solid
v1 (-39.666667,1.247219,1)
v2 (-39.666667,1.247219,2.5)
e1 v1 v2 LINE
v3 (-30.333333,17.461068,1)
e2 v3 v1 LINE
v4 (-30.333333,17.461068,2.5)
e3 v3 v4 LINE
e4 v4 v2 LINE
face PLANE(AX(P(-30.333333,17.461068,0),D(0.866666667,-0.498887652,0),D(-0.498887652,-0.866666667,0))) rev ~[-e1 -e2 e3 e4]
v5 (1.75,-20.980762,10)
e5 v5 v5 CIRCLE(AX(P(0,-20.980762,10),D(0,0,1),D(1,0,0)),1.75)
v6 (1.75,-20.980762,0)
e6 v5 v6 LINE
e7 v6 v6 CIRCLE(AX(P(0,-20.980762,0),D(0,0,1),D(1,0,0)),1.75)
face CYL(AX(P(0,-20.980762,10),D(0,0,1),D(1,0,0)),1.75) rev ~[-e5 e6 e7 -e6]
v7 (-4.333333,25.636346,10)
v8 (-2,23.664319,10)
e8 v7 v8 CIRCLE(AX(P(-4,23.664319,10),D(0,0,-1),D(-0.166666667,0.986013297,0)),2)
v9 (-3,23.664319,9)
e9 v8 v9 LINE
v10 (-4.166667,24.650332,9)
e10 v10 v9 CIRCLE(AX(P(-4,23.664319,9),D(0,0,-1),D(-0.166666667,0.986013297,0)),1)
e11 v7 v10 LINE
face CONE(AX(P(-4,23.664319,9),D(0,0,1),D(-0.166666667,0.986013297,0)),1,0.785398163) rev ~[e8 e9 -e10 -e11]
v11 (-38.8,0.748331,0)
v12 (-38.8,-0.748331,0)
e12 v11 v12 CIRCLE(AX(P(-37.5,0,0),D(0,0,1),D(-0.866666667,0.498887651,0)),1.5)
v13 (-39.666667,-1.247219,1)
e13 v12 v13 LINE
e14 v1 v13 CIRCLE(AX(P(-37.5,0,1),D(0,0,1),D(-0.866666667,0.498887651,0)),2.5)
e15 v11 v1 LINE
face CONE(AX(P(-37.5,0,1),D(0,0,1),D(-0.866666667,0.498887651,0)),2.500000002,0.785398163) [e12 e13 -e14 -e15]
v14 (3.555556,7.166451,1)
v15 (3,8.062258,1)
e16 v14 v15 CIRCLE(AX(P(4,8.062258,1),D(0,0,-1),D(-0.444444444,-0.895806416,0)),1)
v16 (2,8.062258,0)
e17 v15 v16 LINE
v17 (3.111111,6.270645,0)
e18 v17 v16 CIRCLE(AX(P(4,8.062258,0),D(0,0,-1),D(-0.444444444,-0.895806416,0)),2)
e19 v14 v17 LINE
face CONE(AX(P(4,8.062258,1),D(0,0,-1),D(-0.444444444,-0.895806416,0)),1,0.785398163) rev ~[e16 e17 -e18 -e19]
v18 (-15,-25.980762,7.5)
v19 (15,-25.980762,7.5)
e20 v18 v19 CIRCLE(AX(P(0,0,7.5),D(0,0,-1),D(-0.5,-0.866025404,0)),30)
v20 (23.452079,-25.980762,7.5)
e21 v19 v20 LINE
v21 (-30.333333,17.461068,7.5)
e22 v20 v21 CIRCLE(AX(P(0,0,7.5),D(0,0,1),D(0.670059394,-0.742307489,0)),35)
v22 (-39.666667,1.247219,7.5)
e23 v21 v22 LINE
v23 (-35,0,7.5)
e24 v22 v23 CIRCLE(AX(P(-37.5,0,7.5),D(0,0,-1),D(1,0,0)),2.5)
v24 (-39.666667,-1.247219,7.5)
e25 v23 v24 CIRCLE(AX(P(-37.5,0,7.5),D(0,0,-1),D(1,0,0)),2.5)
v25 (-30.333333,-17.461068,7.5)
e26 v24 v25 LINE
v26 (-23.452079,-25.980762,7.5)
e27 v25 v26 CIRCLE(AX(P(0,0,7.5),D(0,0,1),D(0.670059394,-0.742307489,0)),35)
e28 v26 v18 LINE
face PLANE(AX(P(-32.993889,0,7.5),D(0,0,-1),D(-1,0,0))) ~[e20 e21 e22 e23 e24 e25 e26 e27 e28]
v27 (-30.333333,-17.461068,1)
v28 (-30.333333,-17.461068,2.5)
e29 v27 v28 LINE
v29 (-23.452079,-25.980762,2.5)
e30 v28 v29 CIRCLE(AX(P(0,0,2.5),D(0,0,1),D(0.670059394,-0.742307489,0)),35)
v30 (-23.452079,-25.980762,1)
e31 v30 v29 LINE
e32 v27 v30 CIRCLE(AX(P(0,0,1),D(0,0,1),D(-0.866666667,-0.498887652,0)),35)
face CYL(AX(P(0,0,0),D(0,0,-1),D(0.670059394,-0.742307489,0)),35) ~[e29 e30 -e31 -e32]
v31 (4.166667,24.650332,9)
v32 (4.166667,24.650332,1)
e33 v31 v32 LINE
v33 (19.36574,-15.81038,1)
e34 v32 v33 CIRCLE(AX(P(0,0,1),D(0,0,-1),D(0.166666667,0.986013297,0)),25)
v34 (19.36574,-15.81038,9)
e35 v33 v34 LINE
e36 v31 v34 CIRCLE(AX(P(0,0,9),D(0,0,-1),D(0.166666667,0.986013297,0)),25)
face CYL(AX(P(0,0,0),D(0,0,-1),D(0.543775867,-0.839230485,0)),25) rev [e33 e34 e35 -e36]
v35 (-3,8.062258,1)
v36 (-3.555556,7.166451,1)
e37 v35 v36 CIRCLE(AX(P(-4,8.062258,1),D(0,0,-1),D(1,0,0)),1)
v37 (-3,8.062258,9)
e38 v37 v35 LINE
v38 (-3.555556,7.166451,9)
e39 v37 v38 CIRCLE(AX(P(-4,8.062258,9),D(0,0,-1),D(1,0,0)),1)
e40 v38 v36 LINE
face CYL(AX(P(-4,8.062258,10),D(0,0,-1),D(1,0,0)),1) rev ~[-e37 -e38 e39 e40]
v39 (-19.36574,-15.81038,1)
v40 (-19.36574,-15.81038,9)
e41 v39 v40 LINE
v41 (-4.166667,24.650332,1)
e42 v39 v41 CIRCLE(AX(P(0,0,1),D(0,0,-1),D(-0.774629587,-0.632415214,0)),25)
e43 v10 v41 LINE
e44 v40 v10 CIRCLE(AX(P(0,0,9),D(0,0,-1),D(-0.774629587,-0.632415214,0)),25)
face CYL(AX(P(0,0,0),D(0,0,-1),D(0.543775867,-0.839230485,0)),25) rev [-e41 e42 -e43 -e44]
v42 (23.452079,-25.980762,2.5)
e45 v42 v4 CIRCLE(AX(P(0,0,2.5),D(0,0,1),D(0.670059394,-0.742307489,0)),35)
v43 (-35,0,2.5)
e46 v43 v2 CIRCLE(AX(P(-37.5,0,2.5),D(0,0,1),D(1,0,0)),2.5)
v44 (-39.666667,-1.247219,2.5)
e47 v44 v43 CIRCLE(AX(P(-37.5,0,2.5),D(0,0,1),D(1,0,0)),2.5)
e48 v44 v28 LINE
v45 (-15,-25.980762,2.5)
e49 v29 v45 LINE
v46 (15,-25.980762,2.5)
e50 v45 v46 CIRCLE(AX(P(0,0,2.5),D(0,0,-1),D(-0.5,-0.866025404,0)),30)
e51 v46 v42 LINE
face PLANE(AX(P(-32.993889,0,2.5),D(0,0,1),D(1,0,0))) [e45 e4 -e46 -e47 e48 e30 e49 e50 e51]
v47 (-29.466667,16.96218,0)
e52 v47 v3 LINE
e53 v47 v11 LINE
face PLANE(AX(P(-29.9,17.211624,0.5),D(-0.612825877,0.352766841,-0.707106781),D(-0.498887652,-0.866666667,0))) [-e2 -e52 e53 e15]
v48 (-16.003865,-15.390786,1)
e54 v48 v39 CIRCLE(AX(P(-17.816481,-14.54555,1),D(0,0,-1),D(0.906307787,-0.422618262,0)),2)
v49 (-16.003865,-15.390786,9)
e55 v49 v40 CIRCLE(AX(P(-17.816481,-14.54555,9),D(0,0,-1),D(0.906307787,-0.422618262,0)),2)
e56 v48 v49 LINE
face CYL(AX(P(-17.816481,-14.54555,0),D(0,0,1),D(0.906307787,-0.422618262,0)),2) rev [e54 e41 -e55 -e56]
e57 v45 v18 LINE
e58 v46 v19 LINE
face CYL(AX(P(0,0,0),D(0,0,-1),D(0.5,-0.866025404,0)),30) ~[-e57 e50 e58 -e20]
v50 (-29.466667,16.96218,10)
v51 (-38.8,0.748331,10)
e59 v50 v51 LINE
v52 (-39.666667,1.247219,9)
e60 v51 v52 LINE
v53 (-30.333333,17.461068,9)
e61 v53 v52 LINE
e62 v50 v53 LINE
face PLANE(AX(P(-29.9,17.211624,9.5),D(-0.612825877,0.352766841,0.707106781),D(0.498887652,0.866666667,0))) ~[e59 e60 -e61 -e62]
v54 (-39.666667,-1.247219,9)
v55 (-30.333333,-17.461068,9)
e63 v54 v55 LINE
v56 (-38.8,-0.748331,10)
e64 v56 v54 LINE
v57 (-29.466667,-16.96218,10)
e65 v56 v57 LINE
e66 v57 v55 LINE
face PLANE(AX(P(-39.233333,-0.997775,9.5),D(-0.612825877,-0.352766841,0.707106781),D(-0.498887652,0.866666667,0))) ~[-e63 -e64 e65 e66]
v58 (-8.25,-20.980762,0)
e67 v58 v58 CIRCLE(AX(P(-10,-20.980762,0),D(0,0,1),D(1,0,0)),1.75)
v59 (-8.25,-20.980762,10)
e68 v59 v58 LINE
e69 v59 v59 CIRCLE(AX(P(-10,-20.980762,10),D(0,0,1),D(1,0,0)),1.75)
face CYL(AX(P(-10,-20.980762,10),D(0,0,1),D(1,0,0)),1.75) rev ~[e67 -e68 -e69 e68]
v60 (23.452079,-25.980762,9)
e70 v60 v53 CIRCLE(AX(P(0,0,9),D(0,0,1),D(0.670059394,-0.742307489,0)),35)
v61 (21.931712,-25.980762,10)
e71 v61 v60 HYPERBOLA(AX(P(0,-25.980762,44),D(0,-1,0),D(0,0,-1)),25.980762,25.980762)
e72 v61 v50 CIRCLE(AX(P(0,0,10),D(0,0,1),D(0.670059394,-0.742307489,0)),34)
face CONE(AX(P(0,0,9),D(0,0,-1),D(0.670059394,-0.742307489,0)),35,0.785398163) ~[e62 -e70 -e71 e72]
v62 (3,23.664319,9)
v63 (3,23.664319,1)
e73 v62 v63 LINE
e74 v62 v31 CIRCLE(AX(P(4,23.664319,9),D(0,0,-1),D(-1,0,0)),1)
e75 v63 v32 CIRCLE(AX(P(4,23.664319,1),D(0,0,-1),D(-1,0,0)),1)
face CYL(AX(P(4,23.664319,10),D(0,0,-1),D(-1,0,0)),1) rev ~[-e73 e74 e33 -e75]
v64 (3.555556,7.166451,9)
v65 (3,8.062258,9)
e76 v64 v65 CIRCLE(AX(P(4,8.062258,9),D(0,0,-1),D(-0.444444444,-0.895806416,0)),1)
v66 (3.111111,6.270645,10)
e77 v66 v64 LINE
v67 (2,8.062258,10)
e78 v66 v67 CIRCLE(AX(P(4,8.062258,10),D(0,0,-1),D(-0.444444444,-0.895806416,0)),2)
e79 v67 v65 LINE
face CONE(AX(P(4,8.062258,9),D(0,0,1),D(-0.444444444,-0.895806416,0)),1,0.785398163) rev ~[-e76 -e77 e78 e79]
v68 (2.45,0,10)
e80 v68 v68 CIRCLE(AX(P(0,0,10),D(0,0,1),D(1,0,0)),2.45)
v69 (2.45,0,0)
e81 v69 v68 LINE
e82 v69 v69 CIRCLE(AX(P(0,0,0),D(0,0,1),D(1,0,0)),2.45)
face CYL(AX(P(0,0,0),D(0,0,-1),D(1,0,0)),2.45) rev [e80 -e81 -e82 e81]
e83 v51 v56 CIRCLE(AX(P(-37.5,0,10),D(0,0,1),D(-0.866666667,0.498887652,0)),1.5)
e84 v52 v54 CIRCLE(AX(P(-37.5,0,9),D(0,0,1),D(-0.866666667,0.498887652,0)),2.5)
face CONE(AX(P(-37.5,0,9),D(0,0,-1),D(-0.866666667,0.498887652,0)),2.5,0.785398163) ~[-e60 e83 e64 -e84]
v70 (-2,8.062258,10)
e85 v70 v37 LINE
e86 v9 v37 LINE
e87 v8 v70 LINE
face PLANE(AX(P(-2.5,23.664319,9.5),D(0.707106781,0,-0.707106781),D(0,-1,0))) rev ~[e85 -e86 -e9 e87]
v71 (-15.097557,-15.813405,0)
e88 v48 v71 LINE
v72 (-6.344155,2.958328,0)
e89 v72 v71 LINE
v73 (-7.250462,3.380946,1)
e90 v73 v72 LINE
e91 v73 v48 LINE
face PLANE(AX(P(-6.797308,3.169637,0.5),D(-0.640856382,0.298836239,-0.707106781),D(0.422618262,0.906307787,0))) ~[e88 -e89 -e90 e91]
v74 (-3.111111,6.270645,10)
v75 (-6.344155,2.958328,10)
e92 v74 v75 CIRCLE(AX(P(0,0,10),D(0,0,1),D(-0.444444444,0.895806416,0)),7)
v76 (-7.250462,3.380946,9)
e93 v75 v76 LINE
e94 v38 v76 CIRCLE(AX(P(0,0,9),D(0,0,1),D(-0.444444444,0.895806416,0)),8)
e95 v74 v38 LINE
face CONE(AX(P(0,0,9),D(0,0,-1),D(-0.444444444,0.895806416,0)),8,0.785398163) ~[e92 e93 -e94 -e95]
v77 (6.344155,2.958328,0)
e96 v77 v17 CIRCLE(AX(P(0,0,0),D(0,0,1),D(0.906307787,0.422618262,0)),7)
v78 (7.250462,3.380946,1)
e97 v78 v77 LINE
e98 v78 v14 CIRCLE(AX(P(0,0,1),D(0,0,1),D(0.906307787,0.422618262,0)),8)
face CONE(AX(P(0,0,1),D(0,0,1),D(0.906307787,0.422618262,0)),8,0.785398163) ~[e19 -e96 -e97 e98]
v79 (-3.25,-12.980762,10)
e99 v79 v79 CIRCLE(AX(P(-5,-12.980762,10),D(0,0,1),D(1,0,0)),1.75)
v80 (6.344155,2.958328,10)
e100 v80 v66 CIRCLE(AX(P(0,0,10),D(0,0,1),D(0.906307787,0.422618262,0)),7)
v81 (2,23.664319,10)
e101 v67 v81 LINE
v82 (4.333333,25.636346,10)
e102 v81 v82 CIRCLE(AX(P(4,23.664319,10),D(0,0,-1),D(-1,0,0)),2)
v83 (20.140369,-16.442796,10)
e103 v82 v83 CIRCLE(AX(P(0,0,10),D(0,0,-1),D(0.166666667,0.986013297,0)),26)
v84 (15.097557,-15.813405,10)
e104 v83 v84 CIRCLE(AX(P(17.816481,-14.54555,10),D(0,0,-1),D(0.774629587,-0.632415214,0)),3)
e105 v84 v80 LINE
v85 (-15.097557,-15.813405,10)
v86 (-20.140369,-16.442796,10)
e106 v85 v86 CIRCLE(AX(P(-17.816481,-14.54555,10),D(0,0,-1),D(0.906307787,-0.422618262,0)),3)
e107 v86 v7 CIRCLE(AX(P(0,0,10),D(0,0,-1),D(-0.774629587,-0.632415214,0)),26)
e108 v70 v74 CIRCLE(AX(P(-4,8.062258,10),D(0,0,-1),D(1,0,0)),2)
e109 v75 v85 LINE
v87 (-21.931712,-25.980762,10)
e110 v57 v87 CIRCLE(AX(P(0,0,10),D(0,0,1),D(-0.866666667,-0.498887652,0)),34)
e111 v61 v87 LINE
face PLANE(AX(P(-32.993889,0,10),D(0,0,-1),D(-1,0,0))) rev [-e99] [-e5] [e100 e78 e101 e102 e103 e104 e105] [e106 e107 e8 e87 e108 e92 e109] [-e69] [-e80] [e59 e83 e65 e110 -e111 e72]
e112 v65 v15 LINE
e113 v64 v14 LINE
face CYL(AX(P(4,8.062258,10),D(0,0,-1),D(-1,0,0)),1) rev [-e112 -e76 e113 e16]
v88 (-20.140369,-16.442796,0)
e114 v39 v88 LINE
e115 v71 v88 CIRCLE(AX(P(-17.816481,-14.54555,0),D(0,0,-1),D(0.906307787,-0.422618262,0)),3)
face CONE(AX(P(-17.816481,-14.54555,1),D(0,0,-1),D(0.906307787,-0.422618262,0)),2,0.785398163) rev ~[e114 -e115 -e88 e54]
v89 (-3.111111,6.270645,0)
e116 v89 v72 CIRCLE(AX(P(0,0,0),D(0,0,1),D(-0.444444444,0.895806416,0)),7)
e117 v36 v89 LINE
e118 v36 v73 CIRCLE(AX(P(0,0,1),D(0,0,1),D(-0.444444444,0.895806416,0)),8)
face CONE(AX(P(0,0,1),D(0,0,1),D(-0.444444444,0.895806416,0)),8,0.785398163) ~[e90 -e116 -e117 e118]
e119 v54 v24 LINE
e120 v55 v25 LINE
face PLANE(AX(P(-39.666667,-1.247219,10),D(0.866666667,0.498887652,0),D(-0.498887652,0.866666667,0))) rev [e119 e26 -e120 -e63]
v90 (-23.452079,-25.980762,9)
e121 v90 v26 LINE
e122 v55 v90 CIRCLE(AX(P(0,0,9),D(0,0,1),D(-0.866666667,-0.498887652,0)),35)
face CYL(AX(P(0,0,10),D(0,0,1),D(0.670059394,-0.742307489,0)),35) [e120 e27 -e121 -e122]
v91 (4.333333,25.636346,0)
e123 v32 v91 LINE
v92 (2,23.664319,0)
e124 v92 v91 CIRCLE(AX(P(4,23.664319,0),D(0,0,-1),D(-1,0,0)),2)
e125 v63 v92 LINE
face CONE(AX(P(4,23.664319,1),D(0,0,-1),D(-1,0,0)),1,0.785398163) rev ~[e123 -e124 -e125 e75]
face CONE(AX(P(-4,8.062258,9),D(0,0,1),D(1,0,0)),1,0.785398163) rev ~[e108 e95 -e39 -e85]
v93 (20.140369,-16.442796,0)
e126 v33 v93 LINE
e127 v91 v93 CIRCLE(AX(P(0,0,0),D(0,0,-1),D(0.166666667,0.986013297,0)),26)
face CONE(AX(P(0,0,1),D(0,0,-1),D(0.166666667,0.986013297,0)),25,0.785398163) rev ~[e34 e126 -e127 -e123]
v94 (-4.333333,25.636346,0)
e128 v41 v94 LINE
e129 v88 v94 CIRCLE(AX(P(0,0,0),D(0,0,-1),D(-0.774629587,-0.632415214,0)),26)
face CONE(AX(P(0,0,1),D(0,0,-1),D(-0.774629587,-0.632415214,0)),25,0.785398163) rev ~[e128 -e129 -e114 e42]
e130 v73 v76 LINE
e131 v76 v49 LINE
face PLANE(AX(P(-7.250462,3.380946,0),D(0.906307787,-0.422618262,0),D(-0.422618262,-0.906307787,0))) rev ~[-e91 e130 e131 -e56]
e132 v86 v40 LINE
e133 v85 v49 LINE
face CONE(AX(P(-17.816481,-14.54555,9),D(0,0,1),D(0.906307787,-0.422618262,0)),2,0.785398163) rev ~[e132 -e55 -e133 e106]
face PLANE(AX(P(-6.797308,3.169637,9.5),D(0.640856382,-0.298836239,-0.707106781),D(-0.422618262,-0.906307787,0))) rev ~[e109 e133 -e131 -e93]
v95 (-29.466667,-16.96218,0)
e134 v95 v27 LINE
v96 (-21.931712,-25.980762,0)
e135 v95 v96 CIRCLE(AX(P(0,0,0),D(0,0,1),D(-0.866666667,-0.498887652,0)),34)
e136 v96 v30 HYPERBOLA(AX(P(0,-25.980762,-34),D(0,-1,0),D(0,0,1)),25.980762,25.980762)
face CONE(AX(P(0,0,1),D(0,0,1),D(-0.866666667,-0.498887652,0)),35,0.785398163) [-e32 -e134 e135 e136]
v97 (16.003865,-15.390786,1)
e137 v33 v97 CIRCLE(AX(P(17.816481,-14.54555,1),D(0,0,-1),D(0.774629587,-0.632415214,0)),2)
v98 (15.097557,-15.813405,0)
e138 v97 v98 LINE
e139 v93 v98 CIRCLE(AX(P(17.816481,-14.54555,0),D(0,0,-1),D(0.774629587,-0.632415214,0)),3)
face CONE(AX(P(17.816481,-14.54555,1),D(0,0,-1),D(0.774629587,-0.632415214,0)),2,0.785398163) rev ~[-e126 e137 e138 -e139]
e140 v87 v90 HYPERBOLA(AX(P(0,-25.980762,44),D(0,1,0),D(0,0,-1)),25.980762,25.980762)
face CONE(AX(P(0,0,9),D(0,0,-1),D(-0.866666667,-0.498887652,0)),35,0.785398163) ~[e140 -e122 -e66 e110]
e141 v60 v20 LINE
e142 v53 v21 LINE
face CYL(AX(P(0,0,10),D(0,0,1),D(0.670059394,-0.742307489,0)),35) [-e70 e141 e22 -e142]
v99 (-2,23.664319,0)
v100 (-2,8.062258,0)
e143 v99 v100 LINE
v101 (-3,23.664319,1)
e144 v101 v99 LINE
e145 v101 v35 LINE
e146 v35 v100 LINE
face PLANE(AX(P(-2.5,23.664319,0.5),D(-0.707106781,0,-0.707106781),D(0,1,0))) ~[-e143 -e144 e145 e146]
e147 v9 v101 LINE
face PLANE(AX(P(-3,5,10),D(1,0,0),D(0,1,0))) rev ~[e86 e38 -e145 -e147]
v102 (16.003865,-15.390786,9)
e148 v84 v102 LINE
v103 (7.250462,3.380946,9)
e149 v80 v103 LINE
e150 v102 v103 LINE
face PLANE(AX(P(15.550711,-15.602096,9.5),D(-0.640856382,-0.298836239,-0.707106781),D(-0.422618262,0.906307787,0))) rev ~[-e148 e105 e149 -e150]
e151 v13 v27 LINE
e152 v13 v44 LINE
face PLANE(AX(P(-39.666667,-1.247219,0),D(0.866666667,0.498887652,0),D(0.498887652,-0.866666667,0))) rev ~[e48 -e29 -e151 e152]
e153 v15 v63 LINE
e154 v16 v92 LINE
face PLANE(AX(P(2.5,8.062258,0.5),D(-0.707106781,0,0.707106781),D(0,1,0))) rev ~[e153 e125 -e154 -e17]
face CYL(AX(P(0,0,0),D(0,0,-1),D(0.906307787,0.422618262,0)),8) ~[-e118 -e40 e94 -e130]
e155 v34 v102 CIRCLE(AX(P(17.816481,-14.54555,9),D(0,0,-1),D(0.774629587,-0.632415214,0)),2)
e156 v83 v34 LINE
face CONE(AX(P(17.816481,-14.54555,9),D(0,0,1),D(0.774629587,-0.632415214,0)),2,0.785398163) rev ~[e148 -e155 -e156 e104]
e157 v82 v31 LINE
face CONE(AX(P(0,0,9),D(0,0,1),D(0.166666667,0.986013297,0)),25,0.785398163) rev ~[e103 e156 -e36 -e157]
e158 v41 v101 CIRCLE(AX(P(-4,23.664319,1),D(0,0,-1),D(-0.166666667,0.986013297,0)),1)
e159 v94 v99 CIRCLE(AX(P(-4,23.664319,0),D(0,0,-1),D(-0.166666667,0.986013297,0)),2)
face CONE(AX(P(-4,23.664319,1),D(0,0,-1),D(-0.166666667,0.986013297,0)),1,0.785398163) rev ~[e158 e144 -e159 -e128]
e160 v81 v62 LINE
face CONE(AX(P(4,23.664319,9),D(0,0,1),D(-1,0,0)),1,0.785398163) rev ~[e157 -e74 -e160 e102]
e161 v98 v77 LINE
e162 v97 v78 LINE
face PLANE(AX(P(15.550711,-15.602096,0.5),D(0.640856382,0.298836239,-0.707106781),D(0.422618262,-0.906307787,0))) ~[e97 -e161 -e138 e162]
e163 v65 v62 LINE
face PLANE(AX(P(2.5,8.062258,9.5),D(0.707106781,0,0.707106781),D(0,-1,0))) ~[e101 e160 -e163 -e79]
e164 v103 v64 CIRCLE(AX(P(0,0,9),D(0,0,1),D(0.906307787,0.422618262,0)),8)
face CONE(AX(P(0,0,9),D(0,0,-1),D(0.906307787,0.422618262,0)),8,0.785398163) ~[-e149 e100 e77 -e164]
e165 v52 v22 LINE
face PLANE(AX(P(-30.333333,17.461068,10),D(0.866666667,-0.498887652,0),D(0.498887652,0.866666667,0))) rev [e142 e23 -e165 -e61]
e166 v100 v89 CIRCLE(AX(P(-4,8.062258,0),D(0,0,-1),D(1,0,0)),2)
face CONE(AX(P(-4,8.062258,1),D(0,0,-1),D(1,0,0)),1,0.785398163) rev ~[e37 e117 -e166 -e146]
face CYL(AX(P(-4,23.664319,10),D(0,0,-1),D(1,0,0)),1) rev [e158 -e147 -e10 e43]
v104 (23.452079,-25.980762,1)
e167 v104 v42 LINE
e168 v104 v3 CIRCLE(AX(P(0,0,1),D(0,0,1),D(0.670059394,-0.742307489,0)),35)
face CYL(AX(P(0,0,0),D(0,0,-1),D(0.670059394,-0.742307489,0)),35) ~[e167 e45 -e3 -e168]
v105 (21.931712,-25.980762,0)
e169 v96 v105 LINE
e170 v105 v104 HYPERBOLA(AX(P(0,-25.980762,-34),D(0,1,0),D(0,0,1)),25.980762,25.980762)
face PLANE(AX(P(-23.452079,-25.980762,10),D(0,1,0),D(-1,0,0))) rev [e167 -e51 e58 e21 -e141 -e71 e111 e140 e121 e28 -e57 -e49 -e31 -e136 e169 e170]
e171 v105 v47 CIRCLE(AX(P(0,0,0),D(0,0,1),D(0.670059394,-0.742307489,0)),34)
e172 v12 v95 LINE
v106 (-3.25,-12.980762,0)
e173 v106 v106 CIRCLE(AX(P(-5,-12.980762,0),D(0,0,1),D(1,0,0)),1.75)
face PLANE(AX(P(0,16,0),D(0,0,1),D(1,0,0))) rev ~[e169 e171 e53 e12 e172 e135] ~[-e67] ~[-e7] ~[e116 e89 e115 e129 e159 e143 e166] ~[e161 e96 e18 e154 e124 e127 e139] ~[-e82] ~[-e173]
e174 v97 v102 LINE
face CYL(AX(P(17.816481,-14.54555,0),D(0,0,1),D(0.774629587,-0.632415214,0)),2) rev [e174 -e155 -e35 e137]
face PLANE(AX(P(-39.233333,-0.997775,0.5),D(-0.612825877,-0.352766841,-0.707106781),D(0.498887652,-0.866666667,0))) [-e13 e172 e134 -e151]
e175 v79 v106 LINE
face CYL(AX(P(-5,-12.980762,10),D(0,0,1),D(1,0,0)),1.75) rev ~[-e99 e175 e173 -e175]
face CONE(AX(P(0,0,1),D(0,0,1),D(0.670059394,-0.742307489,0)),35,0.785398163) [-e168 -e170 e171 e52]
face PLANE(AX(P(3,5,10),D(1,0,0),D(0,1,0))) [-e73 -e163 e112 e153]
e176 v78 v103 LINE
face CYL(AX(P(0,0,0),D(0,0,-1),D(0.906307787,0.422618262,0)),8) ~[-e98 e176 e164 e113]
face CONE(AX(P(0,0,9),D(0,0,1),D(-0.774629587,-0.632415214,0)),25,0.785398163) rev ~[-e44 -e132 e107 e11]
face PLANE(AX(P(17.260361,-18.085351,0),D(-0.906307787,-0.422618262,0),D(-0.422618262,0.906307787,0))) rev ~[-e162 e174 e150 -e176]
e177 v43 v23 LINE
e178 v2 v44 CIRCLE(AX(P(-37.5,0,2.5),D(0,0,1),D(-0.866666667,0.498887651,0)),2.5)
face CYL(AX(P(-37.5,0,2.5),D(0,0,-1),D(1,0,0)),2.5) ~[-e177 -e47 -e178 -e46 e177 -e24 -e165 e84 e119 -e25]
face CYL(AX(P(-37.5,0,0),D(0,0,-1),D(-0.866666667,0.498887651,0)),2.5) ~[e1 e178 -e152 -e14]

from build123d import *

# Parameters (mm, degrees)
EXTRUDE_1_DEPTH     = 10
SKETCH_2_R          = 2.45
EXTRUDE_2_DEPTH     = 10
SKETCH_3_R          = 1.75
CUT_EXTRUDE_1_DEPTH = 11
EXTRUDE_3_DEPTH     = 2.5
EXTRUDE_4_DEPTH     = 2.5
EXTRUDE_5_REACH     = 9.5
SKETCH_6_R          = 2.5
FILLET_1_R          = 2
SKETCH_7_W          = 6
SKETCH_7_H          = 22
EXTRUDE_6_DEPTH     = 10
FILLET_2_R          = 1
CHAMFER_1_SIZE      = 1
CHAMFER_2_SIZE      = 1
SKETCH_8_R          = 1.75
CUT_EXTRUDE_2_DEPTH = 11


with BuildPart() as part:
    # ｽｹｯﾁ1 → ﾎﾞｽ - 押し出し1 (new body)
    with BuildSketch(Plane.XY):
        with BuildLine():
            Line((-15, -25.980762114), (15, -25.980762114))
            ThreePointArc((15, -25.980762114), (0, 30), (-15, -25.980762114))
        make_face()
        with BuildLine():
            Line((-13.594396682, -20.980762114), (13.594396682, -20.980762114))
            ThreePointArc((13.594396682, -20.980762114), (0, 25), (-13.594396682, -20.980762114))
        make_face(mode=Mode.SUBTRACT)
    extrude(amount=EXTRUDE_1_DEPTH)

    # ｽｹｯﾁ2 → ﾎﾞｽ - 押し出し2 (add)
    with BuildSketch(Plane.XY):
        with BuildLine():
            Line((-13.594396682, -20.980762114), (13.594396682, -20.980762114))
            ThreePointArc((13.594396682, -20.980762114), (15.495156387, -19.618871745), (17.260361171, -18.085351317))
            Line((17.260361171, -18.085351317), (7.250462296, 3.380946094))
            ThreePointArc((7.250462296, 3.380946094), (0, 8), (-7.250462296, 3.380946094))
            Line((-7.250462296, 3.380946094), (-17.260361171, -18.085351317))
            ThreePointArc((-17.260361171, -18.085351317), (-15.495156387, -19.618871745), (-13.594396682, -20.980762114))
        make_face()
        Circle(SKETCH_2_R, mode=Mode.SUBTRACT)
    extrude(amount=EXTRUDE_2_DEPTH)

    # ｽｹｯﾁ3 → ｶｯﾄ - 押し出し1 (cut, through all)
    with BuildSketch(Plane.XY.offset(10)):
        with Locations((0, -20.980762114)):
            Circle(SKETCH_3_R)
        with Locations((-10, -20.980762114)):
            Circle(SKETCH_3_R)
    extrude(amount=-CUT_EXTRUDE_1_DEPTH, mode=Mode.SUBTRACT)

    # ｽｹｯﾁ4 → ﾎﾞｽ - 押し出し3 (add)
    with BuildSketch(Plane.XY):
        with BuildLine():
            Line((-23.452078799, -25.980762114), (-15, -25.980762114))
            ThreePointArc((-15, -25.980762114), (0, 30), (15, -25.980762114))
            Line((15, -25.980762114), (23.452078799, -25.980762114))
            ThreePointArc((23.452078799, -25.980762114), (0, 35), (-23.452078799, -25.980762114))
        make_face()
    extrude_3 = extrude(amount=EXTRUDE_3_DEPTH)

    # ｽｹｯﾁ5 → ﾎﾞｽ - 押し出し4 (add)
    with BuildSketch(Plane.XY):
        with BuildLine():
            Line((-30.333333333, 17.461067805), (-39.666666667, 1.247219129))
            ThreePointArc((-39.666666667, 1.247219129), (-40, 0), (-39.666666667, -1.247219129))
            Line((-39.666666667, -1.247219129), (-30.333333333, -17.461067805))
            Line((-30.333333333, -17.461067805), (-30.333333333, 17.461067805))
        make_face()
    extrude_4 = extrude(amount=EXTRUDE_4_DEPTH)

    # ﾐﾗｰ2: ﾎﾞｽ - 押し出し3, ﾎﾞｽ - 押し出し4 across plane
    add(extrude_3.mirror(Plane(origin=(0, 0, 5), x_dir=(1, 0, 0), z_dir=(0, 0, -1))))
    add(extrude_4.mirror(Plane(origin=(0, 0, 5), x_dir=(1, 0, 0), z_dir=(0, 0, -1))))

    # ｽｹｯﾁ6 → ﾎﾞｽ - 押し出し5 (add, up to next)
    with BuildSketch(Plane.XY.offset(2.5), mode=Mode.PRIVATE) as extrude_5_sk1:
        with Locations((-37.5, 0)):
            Circle(SKETCH_6_R)
    extrude_5_tool1 = extrude(extrude_5_sk1.sketch, amount=EXTRUDE_5_REACH, mode=Mode.PRIVATE) - part.part
    add(extrude_5_tool1.solids().sort_by_distance((-37.5, 0, 2.5))[0])

    # ﾌｨﾚｯﾄ1
    fillet_1_edges = [part.edges().sort_by_distance(p)[0] for p in [
        (-17.260361171, -18.085351317, 5),
        (17.260361171, -18.085351317, 5),
    ]]
    fillet(fillet_1_edges, radius=FILLET_1_R)

    # ｽｹｯﾁ7 → ﾎﾞｽ - 押し出し6 (add)
    with BuildSketch(Plane.XY.offset(10)):
        with Locations((0, 16)):
            Rectangle(SKETCH_7_W, SKETCH_7_H)
    extrude(amount=-EXTRUDE_6_DEPTH)

    # ﾌｨﾚｯﾄ2
    fillet_2_edges = [part.edges().sort_by_distance(p)[0] for p in [
        (3, 7.416198487, 5),
        (-3, 7.416198487, 5),
        (-3, 24.819347292, 5),
        (3, 24.819347292, 5),
    ]]
    fillet(fillet_2_edges, radius=FILLET_2_R)

    # 面取り1
    chamfer_1_edges = [part.edges().sort_by_distance(p)[0] for p in [
        (11.627163615, -6.004920172, 0),
        (11.627163615, -6.004920172, 10),
        (23.403223211, 8.791424421, 0),
        (23.403223211, 8.791424421, 10),
        (17.568783294, -16.530152165, 0),
        (17.568783294, -16.530152165, 10),
        (-17.568783294, -16.530152165, 0),
        (-17.568783294, -16.530152165, 10),
        (-3, 15.86328844, 10),
        (-3, 15.86328844, 0),
        (-23.403223211, 8.791424421, 10),
        (-23.403223211, 8.791424421, 0),
        (3, 15.86328844, 0),
        (3, 15.86328844, 10),
        (-5.724946981, 5.587931824, 10),
        (-5.724946981, 5.587931824, 0),
        (-3.354502776, 24.428081748, 0),
        (-3.354502776, 24.428081748, 10),
        (3.354502776, 24.428081748, 10),
        (3.354502776, 24.428081748, 0),
        (3.150163414, 7.535211472, 10),
        (3.150163414, 7.535211472, 0),
        (-3.150163414, 7.535211472, 0),
        (-3.150163414, 7.535211472, 10),
        (5.724946981, 5.587931824, 10),
        (-11.627163615, -6.004920172, 10),
        (5.724946981, 5.587931824, 0),
        (-11.627163615, -6.004920172, 0),
    ]]
    chamfer(chamfer_1_edges, length=CHAMFER_1_SIZE)

    # 面取り2
    chamfer_2_edges = [part.edges().sort_by_distance(p)[0] for p in [
        (21.991727141, 27.227999143, 0),
        (-27.227999143, -21.991727141, 0),
        (-35, 9.354143467, 0),
        (-40, 0, 0),
        (-35, -9.354143467, 0),
        (21.991727141, 27.227999143, 10),
        (-27.227999143, -21.991727141, 10),
        (-35, 9.354143467, 10),
        (-40, 0, 10),
        (-35, -9.354143467, 10),
    ]]
    chamfer(chamfer_2_edges, length=CHAMFER_2_SIZE)

    # ｽｹｯﾁ8 → ｶｯﾄ - 押し出し2 (cut, through all)
    with BuildSketch(Plane.XY.offset(10)):
        with Locations((-5, -12.980762114)):
            Circle(SKETCH_8_R)
    extrude(amount=-CUT_EXTRUDE_2_DEPTH, mode=Mode.SUBTRACT)


solid = part.part
